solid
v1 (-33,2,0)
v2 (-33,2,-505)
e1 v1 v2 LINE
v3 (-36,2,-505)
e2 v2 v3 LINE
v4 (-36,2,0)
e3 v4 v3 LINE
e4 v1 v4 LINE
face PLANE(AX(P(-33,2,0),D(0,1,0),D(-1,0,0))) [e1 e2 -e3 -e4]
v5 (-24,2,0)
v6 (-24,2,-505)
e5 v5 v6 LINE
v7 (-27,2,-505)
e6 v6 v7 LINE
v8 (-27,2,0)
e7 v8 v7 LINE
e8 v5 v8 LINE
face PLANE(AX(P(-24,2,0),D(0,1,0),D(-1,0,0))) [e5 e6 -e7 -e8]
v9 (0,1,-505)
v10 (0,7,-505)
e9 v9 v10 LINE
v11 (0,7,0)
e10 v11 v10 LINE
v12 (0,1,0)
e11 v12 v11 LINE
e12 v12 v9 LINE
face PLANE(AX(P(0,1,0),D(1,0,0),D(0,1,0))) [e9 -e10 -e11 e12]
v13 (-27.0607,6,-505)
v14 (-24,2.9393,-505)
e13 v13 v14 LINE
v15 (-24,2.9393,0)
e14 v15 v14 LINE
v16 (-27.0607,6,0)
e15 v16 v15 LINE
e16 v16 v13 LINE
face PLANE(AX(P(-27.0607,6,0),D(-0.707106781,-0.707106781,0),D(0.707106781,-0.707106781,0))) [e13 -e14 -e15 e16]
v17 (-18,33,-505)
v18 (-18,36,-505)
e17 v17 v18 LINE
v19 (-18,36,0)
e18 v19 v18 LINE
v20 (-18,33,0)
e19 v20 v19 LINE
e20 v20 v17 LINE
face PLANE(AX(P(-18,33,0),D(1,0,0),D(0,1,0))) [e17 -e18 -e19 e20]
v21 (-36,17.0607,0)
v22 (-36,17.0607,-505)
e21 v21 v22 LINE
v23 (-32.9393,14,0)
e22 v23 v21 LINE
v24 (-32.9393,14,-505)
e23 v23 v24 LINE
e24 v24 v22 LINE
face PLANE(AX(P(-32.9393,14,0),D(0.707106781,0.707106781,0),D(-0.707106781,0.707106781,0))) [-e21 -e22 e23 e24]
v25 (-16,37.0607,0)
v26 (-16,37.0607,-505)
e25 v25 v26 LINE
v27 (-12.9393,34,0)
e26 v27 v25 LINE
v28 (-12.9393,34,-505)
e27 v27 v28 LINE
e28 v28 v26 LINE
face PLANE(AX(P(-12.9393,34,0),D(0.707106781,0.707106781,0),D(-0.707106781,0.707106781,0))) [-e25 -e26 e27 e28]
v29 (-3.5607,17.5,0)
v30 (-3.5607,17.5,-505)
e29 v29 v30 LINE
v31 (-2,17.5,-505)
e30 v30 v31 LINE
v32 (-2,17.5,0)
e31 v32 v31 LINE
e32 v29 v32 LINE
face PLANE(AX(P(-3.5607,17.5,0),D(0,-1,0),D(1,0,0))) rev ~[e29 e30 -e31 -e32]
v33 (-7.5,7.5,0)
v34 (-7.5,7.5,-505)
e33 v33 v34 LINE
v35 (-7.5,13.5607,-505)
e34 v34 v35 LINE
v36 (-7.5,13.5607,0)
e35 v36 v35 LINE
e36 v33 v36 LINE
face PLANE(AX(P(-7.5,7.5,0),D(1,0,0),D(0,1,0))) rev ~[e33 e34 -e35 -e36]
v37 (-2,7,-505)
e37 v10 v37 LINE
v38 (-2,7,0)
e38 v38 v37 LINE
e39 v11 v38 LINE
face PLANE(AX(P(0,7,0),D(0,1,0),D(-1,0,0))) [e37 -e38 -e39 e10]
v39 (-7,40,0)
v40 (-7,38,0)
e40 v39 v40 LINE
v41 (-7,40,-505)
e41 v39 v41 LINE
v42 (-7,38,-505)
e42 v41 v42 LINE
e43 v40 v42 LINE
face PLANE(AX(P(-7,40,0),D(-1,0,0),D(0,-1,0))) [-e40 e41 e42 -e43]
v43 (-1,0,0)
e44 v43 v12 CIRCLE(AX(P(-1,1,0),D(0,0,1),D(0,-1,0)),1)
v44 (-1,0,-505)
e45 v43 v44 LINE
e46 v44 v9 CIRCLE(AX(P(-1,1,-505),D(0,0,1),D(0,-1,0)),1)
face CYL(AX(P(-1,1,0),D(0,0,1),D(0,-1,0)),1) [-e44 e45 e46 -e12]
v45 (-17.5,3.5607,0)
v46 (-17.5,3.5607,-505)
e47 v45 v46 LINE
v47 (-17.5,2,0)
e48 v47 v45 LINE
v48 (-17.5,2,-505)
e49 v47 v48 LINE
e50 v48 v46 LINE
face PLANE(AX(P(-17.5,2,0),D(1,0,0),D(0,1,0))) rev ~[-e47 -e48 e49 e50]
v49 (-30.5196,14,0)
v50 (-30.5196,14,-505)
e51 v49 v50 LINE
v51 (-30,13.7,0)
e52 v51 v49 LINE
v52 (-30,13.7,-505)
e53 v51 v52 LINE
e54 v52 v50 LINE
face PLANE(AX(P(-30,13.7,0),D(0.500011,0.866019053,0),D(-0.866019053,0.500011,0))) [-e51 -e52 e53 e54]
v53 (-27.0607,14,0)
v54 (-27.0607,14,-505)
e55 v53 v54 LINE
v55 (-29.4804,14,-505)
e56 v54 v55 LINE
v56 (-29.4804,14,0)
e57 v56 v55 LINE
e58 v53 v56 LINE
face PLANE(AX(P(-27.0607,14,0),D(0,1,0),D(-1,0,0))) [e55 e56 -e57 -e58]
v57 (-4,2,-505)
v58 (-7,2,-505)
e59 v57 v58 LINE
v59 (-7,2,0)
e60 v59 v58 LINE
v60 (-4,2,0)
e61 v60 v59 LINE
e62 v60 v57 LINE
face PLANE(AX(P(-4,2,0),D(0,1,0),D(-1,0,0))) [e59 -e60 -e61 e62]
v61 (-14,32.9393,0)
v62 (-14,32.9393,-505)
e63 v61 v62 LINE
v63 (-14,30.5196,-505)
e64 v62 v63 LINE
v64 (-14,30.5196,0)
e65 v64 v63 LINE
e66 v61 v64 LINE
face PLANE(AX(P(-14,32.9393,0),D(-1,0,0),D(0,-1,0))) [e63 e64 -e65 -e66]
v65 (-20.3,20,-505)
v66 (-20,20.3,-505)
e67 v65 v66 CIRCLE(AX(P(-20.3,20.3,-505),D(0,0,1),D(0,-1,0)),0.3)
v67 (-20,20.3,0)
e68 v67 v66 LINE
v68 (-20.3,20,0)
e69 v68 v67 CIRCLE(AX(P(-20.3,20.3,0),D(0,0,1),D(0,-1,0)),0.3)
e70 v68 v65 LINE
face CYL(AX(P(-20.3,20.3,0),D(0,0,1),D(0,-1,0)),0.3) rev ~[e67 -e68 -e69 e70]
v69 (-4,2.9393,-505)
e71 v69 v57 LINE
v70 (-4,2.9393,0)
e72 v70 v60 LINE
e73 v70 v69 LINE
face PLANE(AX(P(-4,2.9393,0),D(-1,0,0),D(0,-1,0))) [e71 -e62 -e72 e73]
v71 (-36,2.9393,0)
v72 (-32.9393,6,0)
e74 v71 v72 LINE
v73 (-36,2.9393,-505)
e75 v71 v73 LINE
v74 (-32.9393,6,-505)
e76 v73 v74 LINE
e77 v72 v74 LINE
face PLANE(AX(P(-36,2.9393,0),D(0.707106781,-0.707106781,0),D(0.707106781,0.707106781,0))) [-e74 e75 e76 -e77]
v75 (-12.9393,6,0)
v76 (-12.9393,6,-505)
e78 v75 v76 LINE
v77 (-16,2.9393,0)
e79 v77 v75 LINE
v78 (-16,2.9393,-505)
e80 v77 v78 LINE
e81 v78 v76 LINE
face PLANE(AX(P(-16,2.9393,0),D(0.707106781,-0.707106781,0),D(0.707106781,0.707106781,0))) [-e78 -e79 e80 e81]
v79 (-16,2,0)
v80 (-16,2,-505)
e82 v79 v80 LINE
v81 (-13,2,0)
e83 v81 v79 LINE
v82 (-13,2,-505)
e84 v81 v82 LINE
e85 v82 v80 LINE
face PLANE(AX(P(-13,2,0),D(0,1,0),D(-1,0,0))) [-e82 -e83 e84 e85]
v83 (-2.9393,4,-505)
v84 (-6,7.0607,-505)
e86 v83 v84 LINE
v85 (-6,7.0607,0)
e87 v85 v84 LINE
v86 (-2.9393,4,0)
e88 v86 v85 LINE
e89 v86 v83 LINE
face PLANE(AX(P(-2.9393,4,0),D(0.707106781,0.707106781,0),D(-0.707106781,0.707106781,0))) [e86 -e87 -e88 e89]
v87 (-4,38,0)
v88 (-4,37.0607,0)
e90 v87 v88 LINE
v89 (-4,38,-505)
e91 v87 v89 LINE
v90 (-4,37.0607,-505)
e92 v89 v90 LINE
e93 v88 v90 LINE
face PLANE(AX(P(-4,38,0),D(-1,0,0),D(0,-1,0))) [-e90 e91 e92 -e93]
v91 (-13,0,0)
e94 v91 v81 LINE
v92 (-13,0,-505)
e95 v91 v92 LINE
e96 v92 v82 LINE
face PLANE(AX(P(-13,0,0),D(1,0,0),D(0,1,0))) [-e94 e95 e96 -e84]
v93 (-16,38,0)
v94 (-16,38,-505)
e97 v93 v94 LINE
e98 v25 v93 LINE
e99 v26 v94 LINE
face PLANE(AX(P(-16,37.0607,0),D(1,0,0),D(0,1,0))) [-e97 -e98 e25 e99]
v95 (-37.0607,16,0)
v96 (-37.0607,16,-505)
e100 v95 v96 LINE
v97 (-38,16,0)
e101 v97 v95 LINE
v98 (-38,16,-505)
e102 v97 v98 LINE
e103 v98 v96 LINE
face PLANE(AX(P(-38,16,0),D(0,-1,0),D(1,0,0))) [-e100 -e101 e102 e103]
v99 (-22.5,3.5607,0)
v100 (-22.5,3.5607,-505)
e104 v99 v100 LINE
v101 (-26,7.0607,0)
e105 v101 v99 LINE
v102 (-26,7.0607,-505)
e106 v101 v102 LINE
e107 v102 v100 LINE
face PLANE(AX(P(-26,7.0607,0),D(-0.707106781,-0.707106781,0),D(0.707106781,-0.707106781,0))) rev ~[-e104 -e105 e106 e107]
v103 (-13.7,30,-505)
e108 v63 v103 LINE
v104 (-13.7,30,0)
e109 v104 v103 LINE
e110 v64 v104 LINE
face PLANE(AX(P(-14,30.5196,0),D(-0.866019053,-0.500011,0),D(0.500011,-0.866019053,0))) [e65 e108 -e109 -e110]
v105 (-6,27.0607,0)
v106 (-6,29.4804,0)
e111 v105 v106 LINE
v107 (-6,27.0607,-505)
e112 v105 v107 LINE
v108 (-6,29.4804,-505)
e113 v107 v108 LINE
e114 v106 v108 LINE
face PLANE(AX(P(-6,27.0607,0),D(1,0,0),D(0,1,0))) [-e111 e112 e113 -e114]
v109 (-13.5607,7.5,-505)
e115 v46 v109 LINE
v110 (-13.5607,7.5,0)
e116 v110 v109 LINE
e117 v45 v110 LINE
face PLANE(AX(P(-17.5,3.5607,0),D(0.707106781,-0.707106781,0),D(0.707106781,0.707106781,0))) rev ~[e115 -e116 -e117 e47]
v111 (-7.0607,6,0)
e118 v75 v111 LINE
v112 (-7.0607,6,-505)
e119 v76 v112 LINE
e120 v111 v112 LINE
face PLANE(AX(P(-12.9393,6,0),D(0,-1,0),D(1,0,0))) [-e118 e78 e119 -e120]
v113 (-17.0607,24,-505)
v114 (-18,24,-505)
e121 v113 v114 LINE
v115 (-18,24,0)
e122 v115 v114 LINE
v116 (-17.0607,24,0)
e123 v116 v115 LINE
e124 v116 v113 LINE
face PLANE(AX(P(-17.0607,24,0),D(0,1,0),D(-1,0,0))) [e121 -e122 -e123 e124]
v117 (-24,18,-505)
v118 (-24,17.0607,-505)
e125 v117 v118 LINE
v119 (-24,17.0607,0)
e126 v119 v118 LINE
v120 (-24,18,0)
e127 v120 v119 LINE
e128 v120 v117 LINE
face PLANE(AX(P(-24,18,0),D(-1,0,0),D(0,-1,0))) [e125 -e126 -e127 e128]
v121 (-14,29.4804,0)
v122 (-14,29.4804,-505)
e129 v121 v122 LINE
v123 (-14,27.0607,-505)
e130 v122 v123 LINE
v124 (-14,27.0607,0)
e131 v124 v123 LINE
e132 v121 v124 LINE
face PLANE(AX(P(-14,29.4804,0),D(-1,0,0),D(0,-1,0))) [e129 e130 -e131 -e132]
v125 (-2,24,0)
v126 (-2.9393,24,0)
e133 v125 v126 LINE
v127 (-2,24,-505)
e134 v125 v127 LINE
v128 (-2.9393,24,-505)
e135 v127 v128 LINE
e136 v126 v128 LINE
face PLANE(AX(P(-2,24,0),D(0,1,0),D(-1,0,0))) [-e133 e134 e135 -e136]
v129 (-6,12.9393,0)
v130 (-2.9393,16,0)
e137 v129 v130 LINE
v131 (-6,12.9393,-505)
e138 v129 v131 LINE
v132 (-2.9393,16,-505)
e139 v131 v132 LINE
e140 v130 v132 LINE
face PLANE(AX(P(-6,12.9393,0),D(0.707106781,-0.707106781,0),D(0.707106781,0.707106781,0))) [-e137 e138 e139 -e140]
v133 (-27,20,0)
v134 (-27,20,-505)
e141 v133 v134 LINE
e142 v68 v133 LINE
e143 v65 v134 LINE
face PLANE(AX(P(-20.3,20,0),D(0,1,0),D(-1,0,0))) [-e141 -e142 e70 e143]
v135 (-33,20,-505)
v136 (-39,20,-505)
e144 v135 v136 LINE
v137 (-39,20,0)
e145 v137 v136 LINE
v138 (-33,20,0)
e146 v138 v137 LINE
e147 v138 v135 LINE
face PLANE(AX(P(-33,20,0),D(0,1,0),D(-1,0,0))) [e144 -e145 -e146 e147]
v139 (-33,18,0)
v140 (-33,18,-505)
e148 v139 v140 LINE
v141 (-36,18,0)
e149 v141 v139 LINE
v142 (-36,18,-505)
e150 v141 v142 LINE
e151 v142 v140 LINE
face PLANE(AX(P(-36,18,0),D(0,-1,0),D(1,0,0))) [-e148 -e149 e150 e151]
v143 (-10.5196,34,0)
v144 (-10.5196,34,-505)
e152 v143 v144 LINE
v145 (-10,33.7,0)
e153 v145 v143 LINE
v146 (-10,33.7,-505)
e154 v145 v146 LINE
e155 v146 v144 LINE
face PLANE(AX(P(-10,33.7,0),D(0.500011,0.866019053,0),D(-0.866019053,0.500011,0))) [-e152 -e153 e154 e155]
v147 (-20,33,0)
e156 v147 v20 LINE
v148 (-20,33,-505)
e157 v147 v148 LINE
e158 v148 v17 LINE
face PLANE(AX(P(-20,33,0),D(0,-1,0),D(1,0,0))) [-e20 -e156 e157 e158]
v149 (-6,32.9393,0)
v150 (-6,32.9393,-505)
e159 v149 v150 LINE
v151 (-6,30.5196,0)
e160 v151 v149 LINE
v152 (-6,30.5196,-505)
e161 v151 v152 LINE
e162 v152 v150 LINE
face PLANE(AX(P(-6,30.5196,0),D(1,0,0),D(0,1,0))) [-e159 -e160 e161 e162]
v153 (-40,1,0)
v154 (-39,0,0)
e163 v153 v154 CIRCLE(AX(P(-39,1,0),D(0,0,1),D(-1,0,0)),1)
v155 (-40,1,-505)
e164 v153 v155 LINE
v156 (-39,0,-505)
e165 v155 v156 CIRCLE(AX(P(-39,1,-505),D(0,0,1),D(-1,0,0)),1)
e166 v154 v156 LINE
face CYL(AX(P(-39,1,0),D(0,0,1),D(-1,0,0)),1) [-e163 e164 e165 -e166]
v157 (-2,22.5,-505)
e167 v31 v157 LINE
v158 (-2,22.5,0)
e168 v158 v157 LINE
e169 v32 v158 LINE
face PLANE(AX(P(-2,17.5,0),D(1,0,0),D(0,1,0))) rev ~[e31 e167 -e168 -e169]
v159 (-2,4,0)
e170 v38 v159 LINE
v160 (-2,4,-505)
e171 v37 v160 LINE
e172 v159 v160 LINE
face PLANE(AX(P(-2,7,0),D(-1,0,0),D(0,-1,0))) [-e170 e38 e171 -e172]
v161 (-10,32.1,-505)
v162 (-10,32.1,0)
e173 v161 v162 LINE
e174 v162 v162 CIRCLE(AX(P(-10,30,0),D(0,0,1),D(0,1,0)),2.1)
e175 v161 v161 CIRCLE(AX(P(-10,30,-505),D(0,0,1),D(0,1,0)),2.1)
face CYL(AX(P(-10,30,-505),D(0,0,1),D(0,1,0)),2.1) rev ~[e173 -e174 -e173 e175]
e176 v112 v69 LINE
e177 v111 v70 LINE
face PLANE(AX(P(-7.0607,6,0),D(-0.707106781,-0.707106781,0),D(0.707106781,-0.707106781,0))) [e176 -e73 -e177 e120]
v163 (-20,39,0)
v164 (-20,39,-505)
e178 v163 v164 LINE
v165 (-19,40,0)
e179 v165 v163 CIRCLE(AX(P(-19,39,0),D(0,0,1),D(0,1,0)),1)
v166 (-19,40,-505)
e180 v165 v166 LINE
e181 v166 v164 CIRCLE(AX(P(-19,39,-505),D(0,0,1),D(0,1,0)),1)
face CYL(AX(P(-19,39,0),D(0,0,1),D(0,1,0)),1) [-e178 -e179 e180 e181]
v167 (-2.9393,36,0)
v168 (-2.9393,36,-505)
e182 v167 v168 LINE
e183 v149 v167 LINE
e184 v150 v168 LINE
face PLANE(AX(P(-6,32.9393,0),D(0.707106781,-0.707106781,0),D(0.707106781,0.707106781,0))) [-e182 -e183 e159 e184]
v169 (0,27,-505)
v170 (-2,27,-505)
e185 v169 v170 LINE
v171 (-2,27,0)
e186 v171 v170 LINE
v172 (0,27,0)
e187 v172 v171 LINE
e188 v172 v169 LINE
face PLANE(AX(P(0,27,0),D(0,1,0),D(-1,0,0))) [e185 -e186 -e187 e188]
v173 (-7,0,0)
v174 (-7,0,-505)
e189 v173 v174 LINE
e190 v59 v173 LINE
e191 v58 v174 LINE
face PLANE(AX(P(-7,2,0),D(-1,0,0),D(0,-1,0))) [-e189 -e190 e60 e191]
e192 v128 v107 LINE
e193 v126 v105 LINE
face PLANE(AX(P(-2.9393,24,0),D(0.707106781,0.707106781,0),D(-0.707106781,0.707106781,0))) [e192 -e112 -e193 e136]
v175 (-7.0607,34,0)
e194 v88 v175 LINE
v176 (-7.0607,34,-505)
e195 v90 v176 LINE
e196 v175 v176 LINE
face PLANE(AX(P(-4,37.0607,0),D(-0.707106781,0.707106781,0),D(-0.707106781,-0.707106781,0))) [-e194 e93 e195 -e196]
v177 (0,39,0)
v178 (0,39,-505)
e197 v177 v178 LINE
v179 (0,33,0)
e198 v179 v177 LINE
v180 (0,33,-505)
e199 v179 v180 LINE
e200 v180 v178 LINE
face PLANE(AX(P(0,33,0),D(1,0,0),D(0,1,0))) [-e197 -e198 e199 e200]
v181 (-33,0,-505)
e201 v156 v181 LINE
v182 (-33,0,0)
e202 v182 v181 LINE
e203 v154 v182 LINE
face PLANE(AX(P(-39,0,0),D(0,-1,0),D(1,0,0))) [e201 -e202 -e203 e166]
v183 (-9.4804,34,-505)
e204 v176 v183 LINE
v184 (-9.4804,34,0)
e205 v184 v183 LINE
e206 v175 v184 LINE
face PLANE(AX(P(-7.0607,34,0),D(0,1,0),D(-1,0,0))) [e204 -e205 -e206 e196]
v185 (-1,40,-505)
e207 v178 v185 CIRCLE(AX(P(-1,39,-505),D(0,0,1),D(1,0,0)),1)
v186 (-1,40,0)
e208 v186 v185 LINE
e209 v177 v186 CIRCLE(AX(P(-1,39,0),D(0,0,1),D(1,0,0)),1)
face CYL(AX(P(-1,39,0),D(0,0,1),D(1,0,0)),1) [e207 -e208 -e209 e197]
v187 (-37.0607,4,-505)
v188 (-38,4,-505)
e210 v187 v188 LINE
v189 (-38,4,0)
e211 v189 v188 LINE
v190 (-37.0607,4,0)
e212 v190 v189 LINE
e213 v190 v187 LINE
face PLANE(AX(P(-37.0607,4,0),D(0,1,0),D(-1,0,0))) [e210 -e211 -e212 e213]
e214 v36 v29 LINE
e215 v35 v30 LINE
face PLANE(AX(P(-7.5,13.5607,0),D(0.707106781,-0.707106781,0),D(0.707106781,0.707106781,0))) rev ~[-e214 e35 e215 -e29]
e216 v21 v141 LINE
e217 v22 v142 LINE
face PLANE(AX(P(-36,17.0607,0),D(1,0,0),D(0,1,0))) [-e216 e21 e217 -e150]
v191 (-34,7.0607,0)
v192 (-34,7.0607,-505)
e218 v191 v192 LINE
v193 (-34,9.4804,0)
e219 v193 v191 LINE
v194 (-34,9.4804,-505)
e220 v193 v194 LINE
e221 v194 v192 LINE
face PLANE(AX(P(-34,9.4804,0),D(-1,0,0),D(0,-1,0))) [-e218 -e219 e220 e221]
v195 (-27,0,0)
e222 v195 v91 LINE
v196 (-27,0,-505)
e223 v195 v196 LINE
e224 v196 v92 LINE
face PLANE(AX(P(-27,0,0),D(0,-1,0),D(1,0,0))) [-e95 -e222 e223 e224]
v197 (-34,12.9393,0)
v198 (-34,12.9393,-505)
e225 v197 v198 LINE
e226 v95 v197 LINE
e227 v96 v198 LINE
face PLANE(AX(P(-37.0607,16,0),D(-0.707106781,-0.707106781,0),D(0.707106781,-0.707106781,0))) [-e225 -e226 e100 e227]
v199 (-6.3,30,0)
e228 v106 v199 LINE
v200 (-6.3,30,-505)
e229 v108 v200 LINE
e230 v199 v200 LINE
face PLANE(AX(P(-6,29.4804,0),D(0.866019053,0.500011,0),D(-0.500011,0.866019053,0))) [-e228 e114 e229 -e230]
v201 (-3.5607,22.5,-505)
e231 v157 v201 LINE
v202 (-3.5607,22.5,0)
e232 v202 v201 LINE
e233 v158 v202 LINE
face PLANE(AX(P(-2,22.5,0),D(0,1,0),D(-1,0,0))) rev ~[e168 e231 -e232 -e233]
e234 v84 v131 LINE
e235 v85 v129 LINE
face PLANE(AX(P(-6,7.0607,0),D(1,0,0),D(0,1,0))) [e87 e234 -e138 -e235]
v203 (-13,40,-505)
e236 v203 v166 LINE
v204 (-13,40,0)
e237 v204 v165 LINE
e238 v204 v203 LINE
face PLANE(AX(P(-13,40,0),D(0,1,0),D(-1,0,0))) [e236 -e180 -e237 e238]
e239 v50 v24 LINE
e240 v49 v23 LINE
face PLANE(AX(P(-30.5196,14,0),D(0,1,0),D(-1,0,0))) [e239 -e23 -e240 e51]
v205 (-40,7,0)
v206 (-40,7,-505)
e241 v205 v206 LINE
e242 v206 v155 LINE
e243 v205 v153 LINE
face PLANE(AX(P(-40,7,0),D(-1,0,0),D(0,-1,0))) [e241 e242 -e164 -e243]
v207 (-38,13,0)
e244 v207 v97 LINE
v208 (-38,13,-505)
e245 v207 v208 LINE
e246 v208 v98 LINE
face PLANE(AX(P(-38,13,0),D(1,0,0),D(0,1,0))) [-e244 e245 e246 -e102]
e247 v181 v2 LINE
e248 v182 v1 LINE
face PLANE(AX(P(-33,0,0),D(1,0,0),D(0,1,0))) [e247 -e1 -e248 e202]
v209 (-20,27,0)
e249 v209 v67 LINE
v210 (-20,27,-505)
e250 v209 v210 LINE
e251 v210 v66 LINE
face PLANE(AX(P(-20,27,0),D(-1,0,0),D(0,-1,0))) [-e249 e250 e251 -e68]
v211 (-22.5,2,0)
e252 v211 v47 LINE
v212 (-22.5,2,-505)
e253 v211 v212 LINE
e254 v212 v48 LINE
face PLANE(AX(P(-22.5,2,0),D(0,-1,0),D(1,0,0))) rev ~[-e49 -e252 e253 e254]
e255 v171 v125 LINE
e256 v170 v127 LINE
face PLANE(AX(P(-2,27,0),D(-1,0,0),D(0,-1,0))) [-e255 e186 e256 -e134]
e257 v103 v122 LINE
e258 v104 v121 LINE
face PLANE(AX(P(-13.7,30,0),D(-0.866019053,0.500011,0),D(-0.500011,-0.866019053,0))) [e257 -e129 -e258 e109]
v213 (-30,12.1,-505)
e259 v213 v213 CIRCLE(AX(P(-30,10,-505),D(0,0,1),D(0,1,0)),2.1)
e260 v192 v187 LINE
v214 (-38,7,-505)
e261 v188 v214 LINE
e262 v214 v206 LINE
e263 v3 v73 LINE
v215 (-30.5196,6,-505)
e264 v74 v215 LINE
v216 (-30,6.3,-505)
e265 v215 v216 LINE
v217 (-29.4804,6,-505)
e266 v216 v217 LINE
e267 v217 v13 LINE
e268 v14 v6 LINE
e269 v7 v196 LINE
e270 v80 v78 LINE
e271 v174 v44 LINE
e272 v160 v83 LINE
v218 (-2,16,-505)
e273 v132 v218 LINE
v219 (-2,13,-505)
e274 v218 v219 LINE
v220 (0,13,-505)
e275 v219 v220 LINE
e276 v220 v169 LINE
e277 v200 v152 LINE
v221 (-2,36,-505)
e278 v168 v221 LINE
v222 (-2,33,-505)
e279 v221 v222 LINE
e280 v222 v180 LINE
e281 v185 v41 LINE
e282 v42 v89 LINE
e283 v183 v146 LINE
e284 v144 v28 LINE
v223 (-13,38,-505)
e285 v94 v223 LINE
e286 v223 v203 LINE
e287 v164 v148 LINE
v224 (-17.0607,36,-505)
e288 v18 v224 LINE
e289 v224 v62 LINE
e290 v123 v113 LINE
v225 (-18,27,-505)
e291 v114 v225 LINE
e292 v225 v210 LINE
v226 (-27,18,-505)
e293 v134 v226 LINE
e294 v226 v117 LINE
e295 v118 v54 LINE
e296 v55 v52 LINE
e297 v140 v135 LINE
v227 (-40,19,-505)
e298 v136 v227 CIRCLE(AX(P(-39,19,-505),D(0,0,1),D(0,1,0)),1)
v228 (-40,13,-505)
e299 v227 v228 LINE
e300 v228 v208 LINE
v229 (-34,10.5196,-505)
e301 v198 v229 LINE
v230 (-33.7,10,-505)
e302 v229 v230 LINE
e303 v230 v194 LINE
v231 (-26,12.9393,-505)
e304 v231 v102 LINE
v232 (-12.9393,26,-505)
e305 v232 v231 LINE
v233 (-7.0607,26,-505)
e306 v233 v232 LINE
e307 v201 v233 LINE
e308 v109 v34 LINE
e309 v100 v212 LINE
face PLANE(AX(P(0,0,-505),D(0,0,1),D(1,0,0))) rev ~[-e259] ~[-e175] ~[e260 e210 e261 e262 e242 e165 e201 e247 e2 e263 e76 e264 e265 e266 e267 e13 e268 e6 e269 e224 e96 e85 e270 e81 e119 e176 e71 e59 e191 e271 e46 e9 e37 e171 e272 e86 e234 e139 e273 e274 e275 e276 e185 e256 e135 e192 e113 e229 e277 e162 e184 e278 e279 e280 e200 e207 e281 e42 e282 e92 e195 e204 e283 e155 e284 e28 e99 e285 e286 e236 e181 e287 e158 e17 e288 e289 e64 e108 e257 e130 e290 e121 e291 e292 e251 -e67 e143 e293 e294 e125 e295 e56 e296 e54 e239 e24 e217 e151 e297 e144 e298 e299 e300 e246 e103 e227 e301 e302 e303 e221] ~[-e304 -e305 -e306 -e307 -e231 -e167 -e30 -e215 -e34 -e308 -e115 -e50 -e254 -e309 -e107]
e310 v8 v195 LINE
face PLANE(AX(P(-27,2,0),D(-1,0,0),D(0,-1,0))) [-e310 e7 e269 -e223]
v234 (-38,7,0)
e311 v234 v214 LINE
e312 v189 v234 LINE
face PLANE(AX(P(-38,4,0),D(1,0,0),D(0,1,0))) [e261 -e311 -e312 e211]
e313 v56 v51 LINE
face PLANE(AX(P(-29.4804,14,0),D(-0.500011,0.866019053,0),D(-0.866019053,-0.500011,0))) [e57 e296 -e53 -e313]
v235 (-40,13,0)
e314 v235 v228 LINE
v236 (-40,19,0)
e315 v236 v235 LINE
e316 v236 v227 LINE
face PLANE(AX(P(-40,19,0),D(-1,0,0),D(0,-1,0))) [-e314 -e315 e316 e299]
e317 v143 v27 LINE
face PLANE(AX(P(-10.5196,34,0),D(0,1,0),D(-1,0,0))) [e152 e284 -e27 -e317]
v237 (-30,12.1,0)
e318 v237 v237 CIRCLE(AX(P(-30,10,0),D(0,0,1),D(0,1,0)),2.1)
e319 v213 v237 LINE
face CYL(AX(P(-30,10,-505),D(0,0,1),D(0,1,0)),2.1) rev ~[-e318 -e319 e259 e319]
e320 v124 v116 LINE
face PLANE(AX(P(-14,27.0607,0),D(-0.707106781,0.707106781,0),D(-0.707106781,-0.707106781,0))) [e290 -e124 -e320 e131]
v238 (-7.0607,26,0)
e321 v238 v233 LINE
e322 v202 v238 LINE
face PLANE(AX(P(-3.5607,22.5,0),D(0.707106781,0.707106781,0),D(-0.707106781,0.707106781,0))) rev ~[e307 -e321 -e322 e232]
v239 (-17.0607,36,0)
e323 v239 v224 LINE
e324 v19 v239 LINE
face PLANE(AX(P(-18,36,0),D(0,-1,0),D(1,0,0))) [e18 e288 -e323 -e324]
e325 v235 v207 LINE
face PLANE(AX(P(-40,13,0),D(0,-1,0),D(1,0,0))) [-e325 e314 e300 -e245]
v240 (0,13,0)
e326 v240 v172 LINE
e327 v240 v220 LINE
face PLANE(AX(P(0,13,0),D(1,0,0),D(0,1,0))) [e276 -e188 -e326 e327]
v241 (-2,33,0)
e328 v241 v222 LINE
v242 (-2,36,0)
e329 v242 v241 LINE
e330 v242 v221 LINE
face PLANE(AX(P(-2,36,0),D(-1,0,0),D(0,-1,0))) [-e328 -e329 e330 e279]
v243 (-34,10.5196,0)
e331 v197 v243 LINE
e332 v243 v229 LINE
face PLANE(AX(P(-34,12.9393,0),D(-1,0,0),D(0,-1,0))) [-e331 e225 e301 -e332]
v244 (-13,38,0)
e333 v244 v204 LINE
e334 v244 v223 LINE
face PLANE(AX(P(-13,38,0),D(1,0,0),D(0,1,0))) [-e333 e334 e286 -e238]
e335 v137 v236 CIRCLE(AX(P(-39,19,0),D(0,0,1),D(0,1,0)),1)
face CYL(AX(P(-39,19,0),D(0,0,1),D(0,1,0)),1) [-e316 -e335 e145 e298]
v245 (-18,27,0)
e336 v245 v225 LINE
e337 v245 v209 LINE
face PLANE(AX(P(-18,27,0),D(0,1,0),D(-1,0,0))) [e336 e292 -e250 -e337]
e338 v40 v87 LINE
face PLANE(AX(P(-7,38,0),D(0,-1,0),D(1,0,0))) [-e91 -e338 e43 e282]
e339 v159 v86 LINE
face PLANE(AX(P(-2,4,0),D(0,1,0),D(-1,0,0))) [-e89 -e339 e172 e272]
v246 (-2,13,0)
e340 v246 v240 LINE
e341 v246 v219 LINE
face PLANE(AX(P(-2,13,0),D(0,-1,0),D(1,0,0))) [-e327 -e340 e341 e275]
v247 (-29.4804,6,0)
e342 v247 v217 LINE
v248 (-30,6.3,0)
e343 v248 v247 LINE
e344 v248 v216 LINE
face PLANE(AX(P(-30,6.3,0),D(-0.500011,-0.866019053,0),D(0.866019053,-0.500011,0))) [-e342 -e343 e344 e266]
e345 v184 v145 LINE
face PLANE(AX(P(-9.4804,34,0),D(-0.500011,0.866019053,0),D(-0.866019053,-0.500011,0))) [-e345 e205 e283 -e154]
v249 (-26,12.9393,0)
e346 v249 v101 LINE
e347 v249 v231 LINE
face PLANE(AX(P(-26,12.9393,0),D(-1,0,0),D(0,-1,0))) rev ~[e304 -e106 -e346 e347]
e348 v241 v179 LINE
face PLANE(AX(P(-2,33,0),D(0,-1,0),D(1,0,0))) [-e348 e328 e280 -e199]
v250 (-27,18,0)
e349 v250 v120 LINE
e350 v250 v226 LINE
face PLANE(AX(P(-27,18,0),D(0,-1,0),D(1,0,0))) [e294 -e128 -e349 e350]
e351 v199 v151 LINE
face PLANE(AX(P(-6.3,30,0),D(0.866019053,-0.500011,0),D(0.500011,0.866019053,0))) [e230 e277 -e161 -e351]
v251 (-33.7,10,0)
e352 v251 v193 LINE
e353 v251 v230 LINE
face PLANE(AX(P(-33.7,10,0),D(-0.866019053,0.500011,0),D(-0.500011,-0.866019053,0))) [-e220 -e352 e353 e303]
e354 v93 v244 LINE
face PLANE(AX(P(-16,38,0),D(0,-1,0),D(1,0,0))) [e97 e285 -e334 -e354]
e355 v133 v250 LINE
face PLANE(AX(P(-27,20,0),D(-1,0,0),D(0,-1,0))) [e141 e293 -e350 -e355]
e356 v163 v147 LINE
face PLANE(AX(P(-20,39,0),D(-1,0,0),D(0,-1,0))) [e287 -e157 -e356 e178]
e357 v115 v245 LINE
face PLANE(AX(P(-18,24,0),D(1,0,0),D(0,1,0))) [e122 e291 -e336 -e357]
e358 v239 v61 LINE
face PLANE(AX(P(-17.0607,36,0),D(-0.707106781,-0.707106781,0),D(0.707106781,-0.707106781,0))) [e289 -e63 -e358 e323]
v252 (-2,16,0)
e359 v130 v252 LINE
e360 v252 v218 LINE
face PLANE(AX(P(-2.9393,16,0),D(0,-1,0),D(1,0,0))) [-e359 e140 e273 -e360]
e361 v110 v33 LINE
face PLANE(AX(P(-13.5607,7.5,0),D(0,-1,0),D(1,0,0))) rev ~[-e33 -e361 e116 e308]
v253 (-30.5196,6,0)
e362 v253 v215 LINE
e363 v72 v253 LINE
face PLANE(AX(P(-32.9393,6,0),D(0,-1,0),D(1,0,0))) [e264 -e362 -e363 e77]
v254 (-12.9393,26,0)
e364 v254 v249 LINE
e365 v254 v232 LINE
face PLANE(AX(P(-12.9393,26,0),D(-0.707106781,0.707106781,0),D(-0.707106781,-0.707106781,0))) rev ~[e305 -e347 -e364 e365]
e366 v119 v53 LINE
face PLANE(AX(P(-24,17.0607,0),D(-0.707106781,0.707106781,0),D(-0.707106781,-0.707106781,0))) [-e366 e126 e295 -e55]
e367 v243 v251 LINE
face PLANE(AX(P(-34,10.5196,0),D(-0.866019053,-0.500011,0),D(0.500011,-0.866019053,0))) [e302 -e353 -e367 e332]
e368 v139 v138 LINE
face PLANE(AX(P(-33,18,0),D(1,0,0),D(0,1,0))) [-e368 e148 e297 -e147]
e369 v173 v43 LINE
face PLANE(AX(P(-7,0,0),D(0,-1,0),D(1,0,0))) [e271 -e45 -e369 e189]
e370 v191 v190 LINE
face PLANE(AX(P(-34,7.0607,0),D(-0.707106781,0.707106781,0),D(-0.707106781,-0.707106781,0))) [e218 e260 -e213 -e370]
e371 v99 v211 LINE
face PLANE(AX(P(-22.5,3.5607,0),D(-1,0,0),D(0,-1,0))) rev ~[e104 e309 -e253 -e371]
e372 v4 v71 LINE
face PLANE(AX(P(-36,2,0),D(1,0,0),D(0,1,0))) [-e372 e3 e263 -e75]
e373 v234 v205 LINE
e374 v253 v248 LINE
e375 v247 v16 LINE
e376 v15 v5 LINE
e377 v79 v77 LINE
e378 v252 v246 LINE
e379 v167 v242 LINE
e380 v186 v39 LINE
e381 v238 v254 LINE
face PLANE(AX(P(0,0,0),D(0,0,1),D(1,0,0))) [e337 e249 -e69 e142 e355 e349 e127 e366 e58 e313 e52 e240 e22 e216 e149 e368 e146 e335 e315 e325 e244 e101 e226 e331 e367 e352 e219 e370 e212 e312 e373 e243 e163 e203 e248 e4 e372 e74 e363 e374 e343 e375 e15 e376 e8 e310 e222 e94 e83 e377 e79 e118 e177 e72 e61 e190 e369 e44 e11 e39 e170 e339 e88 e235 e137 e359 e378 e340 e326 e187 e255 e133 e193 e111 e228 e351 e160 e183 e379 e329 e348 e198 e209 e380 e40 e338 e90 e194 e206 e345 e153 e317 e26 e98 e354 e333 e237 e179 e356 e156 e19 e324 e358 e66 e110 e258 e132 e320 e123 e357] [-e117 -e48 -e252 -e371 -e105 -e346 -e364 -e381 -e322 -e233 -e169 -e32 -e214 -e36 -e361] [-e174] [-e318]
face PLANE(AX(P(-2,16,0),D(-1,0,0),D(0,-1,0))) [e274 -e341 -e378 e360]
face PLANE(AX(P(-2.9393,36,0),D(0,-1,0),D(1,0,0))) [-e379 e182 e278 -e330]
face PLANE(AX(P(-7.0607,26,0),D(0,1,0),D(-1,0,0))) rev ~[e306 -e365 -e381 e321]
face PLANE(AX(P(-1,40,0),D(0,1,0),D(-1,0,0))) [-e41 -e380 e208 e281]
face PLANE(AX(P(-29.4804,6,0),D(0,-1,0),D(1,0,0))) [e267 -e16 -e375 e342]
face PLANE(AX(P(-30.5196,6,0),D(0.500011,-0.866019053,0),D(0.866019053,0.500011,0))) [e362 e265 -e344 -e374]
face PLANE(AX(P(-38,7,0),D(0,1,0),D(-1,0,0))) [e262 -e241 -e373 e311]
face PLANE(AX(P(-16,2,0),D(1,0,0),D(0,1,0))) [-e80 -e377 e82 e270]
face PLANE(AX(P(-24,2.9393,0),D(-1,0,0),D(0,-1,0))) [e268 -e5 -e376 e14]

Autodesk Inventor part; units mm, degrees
ref_plane "YZ Plane" through (0, 0, 0) normal (1, 0, 0) x (0, 1, 0)
ref_plane "XZ Plane" through (0, 0, 0) normal (0, 1, 0) x (-1, 0, 0)
ref_plane "XY Plane" through (0, 0, 0) normal (0, 0, 1) x (1, 0, 0)
sketch "Sketch_1" plane through (0, 0, 0) normal (0, 0, 1) x (1, 0, 0)
  line L0 (-40, 19) -> (-40, 13)
  line L1 (-40, 13) -> (-38, 13)
  line L2 (-38, 13) -> (-38, 16)
  line L3 (-38, 16) -> (-37.0607, 16)
  line L4 (-37.0607, 16) -> (-34, 12.9393)
  line L5 (-34, 12.9393) -> (-34, 10.5196)
  line L6 (-34, 10.5196) -> (-33.7, 10)
  line L7 (-33.7, 10) -> (-34, 9.4804)
  line L8 (-34, 9.4804) -> (-34, 7.0607)
  line L9 (-34, 7.0607) -> (-37.0607, 4)
  line L10 (-37.0607, 4) -> (-38, 4)
  line L11 (-38, 4) -> (-38, 7)
  line L12 (-38, 7) -> (-40, 7)
  line L13 (-40, 7) -> (-40, 1)
  arc A0 (-40, 1) -> (-39, 0) centre (-39, 1) ccw
  line L14 (-39, 0) -> (-33, 0)
  line L15 (-33, 0) -> (-33, 2)
  line L16 (-33, 2) -> (-36, 2)
  line L17 (-36, 2) -> (-36, 2.9393)
  line L18 (-36, 2.9393) -> (-32.9393, 6)
  line L19 (-32.9393, 6) -> (-30.5196, 6)
  line L20 (-30.5196, 6) -> (-30, 6.3)
  line L21 (-30, 6.3) -> (-29.4804, 6)
  line L22 (-29.4804, 6) -> (-27.0607, 6)
  line L23 (-27.0607, 6) -> (-24, 2.9393)
  line L24 (-24, 2.9393) -> (-24, 2)
  line L25 (-24, 2) -> (-27, 2)
  line L26 (-27, 2) -> (-27, 0)
  line L27 (-27, 0) -> (-13, 0)
  line L28 (-13, 0) -> (-13, 2)
  line L29 (-13, 2) -> (-16, 2)
  line L30 (-16, 2) -> (-16, 2.9393)
  line L31 (-16, 2.9393) -> (-12.9393, 6)
  line L32 (-12.9393, 6) -> (-7.0607, 6)
  line L33 (-7.0607, 6) -> (-4, 2.9393)
  line L34 (-4, 2.9393) -> (-4, 2)
  line L35 (-4, 2) -> (-7, 2)
  line L36 (-7, 2) -> (-7, 0)
  line L37 (-7, 0) -> (-1, 0)
  arc A1 (-1, 0) -> (0, 1) centre (-1, 1) ccw
  line L38 (0, 1) -> (0, 7)
  line L39 (0, 7) -> (-2, 7)
  line L40 (-2, 7) -> (-2, 4)
  line L41 (-2, 4) -> (-2.9393, 4)
  line L42 (-2.9393, 4) -> (-6, 7.0607)
  line L43 (-6, 7.0607) -> (-6, 12.9393)
  line L44 (-6, 12.9393) -> (-2.9393, 16)
  line L45 (-2.9393, 16) -> (-2, 16)
  line L46 (-2, 16) -> (-2, 13)
  line L47 (-2, 13) -> (0, 13)
  line L48 (0, 13) -> (0, 27)
  line L49 (0, 27) -> (-2, 27)
  line L50 (-2, 27) -> (-2, 24)
  line L51 (-2, 24) -> (-2.9393, 24)
  line L52 (-2.9393, 24) -> (-6, 27.0607)
  line L53 (-6, 27.0607) -> (-6, 29.4804)
  line L54 (-6, 29.4804) -> (-6.3, 30)
  line L55 (-6.3, 30) -> (-6, 30.5196)
  line L56 (-6, 30.5196) -> (-6, 32.9393)
  line L57 (-6, 32.9393) -> (-2.9393, 36)
  line L58 (-2.9393, 36) -> (-2, 36)
  line L59 (-2, 36) -> (-2, 33)
  line L60 (-2, 33) -> (0, 33)
  line L61 (0, 33) -> (0, 39)
  arc A2 (0, 39) -> (-1, 40) centre (-1, 39) ccw
  line L62 (-1, 40) -> (-7, 40)
  line L63 (-7, 40) -> (-7, 38)
  line L64 (-7, 38) -> (-4, 38)
  line L65 (-4, 38) -> (-4, 37.0607)
  line L66 (-4, 37.0607) -> (-7.0607, 34)
  line L67 (-7.0607, 34) -> (-9.4804, 34)
  line L68 (-9.4804, 34) -> (-10, 33.7)
  line L69 (-10, 33.7) -> (-10.5196, 34)
  line L70 (-10.5196, 34) -> (-12.9393, 34)
  line L71 (-12.9393, 34) -> (-16, 37.0607)
  line L72 (-16, 37.0607) -> (-16, 38)
  line L73 (-16, 38) -> (-13, 38)
  line L74 (-13, 38) -> (-13, 40)
  line L75 (-13, 40) -> (-19, 40)
  arc A3 (-19, 40) -> (-20, 39) centre (-19, 39) ccw
  line L76 (-20, 39) -> (-20, 33)
  line L77 (-20, 33) -> (-18, 33)
  line L78 (-18, 33) -> (-18, 36)
  line L79 (-18, 36) -> (-17.0607, 36)
  line L80 (-17.0607, 36) -> (-14, 32.9393)
  line L81 (-14, 32.9393) -> (-14, 30.5196)
  line L82 (-14, 30.5196) -> (-13.7, 30)
  line L83 (-13.7, 30) -> (-14, 29.4804)
  line L84 (-14, 29.4804) -> (-14, 27.0607)
  line L85 (-14, 27.0607) -> (-17.0607, 24)
  line L86 (-17.0607, 24) -> (-18, 24)
  line L87 (-18, 24) -> (-18, 27)
  line L88 (-18, 27) -> (-20, 27)
  line L89 (-20, 27) -> (-20, 20.3)
  arc A4 (-20.3, 20) -> (-20, 20.3) centre (-20.3, 20.3) ccw
  line L90 (-20.3, 20) -> (-27, 20)
  line L91 (-27, 20) -> (-27, 18)
  line L92 (-27, 18) -> (-24, 18)
  line L93 (-24, 18) -> (-24, 17.0607)
  line L94 (-24, 17.0607) -> (-27.0607, 14)
  line L95 (-27.0607, 14) -> (-29.4804, 14)
  line L96 (-29.4804, 14) -> (-30, 13.7)
  line L97 (-30, 13.7) -> (-30.5196, 14)
  line L98 (-30.5196, 14) -> (-32.9393, 14)
  line L99 (-32.9393, 14) -> (-36, 17.0607)
  line L100 (-36, 17.0607) -> (-36, 18)
  line L101 (-36, 18) -> (-33, 18)
  line L102 (-33, 18) -> (-33, 20)
  line L103 (-33, 20) -> (-39, 20)
  arc A5 (-39, 20) -> (-40, 19) centre (-39, 19) ccw
  line L104 (-26, 7.0607) -> (-22.5, 3.5607)
  line L105 (-22.5, 3.5607) -> (-22.5, 2)
  line L106 (-22.5, 2) -> (-17.5, 2)
  line L107 (-17.5, 2) -> (-17.5, 3.5607)
  line L108 (-17.5, 3.5607) -> (-13.5607, 7.5)
  line L109 (-13.5607, 7.5) -> (-7.5, 7.5)
  line L110 (-7.5, 7.5) -> (-7.5, 13.5607)
  line L111 (-7.5, 13.5607) -> (-3.5607, 17.5)
  line L112 (-3.5607, 17.5) -> (-2, 17.5)
  line L113 (-2, 17.5) -> (-2, 22.5)
  line L114 (-2, 22.5) -> (-3.5607, 22.5)
  line L115 (-3.5607, 22.5) -> (-7.0607, 26)
  line L116 (-7.0607, 26) -> (-12.9393, 26)
  line L117 (-12.9393, 26) -> (-26, 12.9393)
  line L118 (-26, 12.9393) -> (-26, 7.0607)
extrude "Extrusion1" add sketch "Sketch_1" against normal blind 505
sketch "Sketch2" plane through (0, 0, -505) normal (0, 0, -1) x (-1, 0, 0)
  point P0 (10, 30)
hole "Hole1" at (-10, 30, -505) direction (0, 0, 1) diameter 4.2 end through all
sketch "Sketch3" plane through (0, 0, -505) normal (0, 0, -1) x (-1, 0, 0)
  point P0 (30, 10)
hole "Hole2" at (-30, 10, -505) direction (0, 0, 1) diameter 4.2 end through all
thread "Thread1" size "M5x0.8" class "6H" standard "ANSI Metric M Profile" length 10
thread "Thread2" size "M5x0.8" class "6H" standard "ANSI Metric M Profile" length 10
thread "Thread3" size "M5x0.8" class "6H" standard "ANSI Metric M Profile" length 10
thread "Thread4" size "M5x0.8" class "6H" standard "ANSI Metric M Profile" length 10
properties part number "HFS5-404020-505" material "Aluminum 6061"
